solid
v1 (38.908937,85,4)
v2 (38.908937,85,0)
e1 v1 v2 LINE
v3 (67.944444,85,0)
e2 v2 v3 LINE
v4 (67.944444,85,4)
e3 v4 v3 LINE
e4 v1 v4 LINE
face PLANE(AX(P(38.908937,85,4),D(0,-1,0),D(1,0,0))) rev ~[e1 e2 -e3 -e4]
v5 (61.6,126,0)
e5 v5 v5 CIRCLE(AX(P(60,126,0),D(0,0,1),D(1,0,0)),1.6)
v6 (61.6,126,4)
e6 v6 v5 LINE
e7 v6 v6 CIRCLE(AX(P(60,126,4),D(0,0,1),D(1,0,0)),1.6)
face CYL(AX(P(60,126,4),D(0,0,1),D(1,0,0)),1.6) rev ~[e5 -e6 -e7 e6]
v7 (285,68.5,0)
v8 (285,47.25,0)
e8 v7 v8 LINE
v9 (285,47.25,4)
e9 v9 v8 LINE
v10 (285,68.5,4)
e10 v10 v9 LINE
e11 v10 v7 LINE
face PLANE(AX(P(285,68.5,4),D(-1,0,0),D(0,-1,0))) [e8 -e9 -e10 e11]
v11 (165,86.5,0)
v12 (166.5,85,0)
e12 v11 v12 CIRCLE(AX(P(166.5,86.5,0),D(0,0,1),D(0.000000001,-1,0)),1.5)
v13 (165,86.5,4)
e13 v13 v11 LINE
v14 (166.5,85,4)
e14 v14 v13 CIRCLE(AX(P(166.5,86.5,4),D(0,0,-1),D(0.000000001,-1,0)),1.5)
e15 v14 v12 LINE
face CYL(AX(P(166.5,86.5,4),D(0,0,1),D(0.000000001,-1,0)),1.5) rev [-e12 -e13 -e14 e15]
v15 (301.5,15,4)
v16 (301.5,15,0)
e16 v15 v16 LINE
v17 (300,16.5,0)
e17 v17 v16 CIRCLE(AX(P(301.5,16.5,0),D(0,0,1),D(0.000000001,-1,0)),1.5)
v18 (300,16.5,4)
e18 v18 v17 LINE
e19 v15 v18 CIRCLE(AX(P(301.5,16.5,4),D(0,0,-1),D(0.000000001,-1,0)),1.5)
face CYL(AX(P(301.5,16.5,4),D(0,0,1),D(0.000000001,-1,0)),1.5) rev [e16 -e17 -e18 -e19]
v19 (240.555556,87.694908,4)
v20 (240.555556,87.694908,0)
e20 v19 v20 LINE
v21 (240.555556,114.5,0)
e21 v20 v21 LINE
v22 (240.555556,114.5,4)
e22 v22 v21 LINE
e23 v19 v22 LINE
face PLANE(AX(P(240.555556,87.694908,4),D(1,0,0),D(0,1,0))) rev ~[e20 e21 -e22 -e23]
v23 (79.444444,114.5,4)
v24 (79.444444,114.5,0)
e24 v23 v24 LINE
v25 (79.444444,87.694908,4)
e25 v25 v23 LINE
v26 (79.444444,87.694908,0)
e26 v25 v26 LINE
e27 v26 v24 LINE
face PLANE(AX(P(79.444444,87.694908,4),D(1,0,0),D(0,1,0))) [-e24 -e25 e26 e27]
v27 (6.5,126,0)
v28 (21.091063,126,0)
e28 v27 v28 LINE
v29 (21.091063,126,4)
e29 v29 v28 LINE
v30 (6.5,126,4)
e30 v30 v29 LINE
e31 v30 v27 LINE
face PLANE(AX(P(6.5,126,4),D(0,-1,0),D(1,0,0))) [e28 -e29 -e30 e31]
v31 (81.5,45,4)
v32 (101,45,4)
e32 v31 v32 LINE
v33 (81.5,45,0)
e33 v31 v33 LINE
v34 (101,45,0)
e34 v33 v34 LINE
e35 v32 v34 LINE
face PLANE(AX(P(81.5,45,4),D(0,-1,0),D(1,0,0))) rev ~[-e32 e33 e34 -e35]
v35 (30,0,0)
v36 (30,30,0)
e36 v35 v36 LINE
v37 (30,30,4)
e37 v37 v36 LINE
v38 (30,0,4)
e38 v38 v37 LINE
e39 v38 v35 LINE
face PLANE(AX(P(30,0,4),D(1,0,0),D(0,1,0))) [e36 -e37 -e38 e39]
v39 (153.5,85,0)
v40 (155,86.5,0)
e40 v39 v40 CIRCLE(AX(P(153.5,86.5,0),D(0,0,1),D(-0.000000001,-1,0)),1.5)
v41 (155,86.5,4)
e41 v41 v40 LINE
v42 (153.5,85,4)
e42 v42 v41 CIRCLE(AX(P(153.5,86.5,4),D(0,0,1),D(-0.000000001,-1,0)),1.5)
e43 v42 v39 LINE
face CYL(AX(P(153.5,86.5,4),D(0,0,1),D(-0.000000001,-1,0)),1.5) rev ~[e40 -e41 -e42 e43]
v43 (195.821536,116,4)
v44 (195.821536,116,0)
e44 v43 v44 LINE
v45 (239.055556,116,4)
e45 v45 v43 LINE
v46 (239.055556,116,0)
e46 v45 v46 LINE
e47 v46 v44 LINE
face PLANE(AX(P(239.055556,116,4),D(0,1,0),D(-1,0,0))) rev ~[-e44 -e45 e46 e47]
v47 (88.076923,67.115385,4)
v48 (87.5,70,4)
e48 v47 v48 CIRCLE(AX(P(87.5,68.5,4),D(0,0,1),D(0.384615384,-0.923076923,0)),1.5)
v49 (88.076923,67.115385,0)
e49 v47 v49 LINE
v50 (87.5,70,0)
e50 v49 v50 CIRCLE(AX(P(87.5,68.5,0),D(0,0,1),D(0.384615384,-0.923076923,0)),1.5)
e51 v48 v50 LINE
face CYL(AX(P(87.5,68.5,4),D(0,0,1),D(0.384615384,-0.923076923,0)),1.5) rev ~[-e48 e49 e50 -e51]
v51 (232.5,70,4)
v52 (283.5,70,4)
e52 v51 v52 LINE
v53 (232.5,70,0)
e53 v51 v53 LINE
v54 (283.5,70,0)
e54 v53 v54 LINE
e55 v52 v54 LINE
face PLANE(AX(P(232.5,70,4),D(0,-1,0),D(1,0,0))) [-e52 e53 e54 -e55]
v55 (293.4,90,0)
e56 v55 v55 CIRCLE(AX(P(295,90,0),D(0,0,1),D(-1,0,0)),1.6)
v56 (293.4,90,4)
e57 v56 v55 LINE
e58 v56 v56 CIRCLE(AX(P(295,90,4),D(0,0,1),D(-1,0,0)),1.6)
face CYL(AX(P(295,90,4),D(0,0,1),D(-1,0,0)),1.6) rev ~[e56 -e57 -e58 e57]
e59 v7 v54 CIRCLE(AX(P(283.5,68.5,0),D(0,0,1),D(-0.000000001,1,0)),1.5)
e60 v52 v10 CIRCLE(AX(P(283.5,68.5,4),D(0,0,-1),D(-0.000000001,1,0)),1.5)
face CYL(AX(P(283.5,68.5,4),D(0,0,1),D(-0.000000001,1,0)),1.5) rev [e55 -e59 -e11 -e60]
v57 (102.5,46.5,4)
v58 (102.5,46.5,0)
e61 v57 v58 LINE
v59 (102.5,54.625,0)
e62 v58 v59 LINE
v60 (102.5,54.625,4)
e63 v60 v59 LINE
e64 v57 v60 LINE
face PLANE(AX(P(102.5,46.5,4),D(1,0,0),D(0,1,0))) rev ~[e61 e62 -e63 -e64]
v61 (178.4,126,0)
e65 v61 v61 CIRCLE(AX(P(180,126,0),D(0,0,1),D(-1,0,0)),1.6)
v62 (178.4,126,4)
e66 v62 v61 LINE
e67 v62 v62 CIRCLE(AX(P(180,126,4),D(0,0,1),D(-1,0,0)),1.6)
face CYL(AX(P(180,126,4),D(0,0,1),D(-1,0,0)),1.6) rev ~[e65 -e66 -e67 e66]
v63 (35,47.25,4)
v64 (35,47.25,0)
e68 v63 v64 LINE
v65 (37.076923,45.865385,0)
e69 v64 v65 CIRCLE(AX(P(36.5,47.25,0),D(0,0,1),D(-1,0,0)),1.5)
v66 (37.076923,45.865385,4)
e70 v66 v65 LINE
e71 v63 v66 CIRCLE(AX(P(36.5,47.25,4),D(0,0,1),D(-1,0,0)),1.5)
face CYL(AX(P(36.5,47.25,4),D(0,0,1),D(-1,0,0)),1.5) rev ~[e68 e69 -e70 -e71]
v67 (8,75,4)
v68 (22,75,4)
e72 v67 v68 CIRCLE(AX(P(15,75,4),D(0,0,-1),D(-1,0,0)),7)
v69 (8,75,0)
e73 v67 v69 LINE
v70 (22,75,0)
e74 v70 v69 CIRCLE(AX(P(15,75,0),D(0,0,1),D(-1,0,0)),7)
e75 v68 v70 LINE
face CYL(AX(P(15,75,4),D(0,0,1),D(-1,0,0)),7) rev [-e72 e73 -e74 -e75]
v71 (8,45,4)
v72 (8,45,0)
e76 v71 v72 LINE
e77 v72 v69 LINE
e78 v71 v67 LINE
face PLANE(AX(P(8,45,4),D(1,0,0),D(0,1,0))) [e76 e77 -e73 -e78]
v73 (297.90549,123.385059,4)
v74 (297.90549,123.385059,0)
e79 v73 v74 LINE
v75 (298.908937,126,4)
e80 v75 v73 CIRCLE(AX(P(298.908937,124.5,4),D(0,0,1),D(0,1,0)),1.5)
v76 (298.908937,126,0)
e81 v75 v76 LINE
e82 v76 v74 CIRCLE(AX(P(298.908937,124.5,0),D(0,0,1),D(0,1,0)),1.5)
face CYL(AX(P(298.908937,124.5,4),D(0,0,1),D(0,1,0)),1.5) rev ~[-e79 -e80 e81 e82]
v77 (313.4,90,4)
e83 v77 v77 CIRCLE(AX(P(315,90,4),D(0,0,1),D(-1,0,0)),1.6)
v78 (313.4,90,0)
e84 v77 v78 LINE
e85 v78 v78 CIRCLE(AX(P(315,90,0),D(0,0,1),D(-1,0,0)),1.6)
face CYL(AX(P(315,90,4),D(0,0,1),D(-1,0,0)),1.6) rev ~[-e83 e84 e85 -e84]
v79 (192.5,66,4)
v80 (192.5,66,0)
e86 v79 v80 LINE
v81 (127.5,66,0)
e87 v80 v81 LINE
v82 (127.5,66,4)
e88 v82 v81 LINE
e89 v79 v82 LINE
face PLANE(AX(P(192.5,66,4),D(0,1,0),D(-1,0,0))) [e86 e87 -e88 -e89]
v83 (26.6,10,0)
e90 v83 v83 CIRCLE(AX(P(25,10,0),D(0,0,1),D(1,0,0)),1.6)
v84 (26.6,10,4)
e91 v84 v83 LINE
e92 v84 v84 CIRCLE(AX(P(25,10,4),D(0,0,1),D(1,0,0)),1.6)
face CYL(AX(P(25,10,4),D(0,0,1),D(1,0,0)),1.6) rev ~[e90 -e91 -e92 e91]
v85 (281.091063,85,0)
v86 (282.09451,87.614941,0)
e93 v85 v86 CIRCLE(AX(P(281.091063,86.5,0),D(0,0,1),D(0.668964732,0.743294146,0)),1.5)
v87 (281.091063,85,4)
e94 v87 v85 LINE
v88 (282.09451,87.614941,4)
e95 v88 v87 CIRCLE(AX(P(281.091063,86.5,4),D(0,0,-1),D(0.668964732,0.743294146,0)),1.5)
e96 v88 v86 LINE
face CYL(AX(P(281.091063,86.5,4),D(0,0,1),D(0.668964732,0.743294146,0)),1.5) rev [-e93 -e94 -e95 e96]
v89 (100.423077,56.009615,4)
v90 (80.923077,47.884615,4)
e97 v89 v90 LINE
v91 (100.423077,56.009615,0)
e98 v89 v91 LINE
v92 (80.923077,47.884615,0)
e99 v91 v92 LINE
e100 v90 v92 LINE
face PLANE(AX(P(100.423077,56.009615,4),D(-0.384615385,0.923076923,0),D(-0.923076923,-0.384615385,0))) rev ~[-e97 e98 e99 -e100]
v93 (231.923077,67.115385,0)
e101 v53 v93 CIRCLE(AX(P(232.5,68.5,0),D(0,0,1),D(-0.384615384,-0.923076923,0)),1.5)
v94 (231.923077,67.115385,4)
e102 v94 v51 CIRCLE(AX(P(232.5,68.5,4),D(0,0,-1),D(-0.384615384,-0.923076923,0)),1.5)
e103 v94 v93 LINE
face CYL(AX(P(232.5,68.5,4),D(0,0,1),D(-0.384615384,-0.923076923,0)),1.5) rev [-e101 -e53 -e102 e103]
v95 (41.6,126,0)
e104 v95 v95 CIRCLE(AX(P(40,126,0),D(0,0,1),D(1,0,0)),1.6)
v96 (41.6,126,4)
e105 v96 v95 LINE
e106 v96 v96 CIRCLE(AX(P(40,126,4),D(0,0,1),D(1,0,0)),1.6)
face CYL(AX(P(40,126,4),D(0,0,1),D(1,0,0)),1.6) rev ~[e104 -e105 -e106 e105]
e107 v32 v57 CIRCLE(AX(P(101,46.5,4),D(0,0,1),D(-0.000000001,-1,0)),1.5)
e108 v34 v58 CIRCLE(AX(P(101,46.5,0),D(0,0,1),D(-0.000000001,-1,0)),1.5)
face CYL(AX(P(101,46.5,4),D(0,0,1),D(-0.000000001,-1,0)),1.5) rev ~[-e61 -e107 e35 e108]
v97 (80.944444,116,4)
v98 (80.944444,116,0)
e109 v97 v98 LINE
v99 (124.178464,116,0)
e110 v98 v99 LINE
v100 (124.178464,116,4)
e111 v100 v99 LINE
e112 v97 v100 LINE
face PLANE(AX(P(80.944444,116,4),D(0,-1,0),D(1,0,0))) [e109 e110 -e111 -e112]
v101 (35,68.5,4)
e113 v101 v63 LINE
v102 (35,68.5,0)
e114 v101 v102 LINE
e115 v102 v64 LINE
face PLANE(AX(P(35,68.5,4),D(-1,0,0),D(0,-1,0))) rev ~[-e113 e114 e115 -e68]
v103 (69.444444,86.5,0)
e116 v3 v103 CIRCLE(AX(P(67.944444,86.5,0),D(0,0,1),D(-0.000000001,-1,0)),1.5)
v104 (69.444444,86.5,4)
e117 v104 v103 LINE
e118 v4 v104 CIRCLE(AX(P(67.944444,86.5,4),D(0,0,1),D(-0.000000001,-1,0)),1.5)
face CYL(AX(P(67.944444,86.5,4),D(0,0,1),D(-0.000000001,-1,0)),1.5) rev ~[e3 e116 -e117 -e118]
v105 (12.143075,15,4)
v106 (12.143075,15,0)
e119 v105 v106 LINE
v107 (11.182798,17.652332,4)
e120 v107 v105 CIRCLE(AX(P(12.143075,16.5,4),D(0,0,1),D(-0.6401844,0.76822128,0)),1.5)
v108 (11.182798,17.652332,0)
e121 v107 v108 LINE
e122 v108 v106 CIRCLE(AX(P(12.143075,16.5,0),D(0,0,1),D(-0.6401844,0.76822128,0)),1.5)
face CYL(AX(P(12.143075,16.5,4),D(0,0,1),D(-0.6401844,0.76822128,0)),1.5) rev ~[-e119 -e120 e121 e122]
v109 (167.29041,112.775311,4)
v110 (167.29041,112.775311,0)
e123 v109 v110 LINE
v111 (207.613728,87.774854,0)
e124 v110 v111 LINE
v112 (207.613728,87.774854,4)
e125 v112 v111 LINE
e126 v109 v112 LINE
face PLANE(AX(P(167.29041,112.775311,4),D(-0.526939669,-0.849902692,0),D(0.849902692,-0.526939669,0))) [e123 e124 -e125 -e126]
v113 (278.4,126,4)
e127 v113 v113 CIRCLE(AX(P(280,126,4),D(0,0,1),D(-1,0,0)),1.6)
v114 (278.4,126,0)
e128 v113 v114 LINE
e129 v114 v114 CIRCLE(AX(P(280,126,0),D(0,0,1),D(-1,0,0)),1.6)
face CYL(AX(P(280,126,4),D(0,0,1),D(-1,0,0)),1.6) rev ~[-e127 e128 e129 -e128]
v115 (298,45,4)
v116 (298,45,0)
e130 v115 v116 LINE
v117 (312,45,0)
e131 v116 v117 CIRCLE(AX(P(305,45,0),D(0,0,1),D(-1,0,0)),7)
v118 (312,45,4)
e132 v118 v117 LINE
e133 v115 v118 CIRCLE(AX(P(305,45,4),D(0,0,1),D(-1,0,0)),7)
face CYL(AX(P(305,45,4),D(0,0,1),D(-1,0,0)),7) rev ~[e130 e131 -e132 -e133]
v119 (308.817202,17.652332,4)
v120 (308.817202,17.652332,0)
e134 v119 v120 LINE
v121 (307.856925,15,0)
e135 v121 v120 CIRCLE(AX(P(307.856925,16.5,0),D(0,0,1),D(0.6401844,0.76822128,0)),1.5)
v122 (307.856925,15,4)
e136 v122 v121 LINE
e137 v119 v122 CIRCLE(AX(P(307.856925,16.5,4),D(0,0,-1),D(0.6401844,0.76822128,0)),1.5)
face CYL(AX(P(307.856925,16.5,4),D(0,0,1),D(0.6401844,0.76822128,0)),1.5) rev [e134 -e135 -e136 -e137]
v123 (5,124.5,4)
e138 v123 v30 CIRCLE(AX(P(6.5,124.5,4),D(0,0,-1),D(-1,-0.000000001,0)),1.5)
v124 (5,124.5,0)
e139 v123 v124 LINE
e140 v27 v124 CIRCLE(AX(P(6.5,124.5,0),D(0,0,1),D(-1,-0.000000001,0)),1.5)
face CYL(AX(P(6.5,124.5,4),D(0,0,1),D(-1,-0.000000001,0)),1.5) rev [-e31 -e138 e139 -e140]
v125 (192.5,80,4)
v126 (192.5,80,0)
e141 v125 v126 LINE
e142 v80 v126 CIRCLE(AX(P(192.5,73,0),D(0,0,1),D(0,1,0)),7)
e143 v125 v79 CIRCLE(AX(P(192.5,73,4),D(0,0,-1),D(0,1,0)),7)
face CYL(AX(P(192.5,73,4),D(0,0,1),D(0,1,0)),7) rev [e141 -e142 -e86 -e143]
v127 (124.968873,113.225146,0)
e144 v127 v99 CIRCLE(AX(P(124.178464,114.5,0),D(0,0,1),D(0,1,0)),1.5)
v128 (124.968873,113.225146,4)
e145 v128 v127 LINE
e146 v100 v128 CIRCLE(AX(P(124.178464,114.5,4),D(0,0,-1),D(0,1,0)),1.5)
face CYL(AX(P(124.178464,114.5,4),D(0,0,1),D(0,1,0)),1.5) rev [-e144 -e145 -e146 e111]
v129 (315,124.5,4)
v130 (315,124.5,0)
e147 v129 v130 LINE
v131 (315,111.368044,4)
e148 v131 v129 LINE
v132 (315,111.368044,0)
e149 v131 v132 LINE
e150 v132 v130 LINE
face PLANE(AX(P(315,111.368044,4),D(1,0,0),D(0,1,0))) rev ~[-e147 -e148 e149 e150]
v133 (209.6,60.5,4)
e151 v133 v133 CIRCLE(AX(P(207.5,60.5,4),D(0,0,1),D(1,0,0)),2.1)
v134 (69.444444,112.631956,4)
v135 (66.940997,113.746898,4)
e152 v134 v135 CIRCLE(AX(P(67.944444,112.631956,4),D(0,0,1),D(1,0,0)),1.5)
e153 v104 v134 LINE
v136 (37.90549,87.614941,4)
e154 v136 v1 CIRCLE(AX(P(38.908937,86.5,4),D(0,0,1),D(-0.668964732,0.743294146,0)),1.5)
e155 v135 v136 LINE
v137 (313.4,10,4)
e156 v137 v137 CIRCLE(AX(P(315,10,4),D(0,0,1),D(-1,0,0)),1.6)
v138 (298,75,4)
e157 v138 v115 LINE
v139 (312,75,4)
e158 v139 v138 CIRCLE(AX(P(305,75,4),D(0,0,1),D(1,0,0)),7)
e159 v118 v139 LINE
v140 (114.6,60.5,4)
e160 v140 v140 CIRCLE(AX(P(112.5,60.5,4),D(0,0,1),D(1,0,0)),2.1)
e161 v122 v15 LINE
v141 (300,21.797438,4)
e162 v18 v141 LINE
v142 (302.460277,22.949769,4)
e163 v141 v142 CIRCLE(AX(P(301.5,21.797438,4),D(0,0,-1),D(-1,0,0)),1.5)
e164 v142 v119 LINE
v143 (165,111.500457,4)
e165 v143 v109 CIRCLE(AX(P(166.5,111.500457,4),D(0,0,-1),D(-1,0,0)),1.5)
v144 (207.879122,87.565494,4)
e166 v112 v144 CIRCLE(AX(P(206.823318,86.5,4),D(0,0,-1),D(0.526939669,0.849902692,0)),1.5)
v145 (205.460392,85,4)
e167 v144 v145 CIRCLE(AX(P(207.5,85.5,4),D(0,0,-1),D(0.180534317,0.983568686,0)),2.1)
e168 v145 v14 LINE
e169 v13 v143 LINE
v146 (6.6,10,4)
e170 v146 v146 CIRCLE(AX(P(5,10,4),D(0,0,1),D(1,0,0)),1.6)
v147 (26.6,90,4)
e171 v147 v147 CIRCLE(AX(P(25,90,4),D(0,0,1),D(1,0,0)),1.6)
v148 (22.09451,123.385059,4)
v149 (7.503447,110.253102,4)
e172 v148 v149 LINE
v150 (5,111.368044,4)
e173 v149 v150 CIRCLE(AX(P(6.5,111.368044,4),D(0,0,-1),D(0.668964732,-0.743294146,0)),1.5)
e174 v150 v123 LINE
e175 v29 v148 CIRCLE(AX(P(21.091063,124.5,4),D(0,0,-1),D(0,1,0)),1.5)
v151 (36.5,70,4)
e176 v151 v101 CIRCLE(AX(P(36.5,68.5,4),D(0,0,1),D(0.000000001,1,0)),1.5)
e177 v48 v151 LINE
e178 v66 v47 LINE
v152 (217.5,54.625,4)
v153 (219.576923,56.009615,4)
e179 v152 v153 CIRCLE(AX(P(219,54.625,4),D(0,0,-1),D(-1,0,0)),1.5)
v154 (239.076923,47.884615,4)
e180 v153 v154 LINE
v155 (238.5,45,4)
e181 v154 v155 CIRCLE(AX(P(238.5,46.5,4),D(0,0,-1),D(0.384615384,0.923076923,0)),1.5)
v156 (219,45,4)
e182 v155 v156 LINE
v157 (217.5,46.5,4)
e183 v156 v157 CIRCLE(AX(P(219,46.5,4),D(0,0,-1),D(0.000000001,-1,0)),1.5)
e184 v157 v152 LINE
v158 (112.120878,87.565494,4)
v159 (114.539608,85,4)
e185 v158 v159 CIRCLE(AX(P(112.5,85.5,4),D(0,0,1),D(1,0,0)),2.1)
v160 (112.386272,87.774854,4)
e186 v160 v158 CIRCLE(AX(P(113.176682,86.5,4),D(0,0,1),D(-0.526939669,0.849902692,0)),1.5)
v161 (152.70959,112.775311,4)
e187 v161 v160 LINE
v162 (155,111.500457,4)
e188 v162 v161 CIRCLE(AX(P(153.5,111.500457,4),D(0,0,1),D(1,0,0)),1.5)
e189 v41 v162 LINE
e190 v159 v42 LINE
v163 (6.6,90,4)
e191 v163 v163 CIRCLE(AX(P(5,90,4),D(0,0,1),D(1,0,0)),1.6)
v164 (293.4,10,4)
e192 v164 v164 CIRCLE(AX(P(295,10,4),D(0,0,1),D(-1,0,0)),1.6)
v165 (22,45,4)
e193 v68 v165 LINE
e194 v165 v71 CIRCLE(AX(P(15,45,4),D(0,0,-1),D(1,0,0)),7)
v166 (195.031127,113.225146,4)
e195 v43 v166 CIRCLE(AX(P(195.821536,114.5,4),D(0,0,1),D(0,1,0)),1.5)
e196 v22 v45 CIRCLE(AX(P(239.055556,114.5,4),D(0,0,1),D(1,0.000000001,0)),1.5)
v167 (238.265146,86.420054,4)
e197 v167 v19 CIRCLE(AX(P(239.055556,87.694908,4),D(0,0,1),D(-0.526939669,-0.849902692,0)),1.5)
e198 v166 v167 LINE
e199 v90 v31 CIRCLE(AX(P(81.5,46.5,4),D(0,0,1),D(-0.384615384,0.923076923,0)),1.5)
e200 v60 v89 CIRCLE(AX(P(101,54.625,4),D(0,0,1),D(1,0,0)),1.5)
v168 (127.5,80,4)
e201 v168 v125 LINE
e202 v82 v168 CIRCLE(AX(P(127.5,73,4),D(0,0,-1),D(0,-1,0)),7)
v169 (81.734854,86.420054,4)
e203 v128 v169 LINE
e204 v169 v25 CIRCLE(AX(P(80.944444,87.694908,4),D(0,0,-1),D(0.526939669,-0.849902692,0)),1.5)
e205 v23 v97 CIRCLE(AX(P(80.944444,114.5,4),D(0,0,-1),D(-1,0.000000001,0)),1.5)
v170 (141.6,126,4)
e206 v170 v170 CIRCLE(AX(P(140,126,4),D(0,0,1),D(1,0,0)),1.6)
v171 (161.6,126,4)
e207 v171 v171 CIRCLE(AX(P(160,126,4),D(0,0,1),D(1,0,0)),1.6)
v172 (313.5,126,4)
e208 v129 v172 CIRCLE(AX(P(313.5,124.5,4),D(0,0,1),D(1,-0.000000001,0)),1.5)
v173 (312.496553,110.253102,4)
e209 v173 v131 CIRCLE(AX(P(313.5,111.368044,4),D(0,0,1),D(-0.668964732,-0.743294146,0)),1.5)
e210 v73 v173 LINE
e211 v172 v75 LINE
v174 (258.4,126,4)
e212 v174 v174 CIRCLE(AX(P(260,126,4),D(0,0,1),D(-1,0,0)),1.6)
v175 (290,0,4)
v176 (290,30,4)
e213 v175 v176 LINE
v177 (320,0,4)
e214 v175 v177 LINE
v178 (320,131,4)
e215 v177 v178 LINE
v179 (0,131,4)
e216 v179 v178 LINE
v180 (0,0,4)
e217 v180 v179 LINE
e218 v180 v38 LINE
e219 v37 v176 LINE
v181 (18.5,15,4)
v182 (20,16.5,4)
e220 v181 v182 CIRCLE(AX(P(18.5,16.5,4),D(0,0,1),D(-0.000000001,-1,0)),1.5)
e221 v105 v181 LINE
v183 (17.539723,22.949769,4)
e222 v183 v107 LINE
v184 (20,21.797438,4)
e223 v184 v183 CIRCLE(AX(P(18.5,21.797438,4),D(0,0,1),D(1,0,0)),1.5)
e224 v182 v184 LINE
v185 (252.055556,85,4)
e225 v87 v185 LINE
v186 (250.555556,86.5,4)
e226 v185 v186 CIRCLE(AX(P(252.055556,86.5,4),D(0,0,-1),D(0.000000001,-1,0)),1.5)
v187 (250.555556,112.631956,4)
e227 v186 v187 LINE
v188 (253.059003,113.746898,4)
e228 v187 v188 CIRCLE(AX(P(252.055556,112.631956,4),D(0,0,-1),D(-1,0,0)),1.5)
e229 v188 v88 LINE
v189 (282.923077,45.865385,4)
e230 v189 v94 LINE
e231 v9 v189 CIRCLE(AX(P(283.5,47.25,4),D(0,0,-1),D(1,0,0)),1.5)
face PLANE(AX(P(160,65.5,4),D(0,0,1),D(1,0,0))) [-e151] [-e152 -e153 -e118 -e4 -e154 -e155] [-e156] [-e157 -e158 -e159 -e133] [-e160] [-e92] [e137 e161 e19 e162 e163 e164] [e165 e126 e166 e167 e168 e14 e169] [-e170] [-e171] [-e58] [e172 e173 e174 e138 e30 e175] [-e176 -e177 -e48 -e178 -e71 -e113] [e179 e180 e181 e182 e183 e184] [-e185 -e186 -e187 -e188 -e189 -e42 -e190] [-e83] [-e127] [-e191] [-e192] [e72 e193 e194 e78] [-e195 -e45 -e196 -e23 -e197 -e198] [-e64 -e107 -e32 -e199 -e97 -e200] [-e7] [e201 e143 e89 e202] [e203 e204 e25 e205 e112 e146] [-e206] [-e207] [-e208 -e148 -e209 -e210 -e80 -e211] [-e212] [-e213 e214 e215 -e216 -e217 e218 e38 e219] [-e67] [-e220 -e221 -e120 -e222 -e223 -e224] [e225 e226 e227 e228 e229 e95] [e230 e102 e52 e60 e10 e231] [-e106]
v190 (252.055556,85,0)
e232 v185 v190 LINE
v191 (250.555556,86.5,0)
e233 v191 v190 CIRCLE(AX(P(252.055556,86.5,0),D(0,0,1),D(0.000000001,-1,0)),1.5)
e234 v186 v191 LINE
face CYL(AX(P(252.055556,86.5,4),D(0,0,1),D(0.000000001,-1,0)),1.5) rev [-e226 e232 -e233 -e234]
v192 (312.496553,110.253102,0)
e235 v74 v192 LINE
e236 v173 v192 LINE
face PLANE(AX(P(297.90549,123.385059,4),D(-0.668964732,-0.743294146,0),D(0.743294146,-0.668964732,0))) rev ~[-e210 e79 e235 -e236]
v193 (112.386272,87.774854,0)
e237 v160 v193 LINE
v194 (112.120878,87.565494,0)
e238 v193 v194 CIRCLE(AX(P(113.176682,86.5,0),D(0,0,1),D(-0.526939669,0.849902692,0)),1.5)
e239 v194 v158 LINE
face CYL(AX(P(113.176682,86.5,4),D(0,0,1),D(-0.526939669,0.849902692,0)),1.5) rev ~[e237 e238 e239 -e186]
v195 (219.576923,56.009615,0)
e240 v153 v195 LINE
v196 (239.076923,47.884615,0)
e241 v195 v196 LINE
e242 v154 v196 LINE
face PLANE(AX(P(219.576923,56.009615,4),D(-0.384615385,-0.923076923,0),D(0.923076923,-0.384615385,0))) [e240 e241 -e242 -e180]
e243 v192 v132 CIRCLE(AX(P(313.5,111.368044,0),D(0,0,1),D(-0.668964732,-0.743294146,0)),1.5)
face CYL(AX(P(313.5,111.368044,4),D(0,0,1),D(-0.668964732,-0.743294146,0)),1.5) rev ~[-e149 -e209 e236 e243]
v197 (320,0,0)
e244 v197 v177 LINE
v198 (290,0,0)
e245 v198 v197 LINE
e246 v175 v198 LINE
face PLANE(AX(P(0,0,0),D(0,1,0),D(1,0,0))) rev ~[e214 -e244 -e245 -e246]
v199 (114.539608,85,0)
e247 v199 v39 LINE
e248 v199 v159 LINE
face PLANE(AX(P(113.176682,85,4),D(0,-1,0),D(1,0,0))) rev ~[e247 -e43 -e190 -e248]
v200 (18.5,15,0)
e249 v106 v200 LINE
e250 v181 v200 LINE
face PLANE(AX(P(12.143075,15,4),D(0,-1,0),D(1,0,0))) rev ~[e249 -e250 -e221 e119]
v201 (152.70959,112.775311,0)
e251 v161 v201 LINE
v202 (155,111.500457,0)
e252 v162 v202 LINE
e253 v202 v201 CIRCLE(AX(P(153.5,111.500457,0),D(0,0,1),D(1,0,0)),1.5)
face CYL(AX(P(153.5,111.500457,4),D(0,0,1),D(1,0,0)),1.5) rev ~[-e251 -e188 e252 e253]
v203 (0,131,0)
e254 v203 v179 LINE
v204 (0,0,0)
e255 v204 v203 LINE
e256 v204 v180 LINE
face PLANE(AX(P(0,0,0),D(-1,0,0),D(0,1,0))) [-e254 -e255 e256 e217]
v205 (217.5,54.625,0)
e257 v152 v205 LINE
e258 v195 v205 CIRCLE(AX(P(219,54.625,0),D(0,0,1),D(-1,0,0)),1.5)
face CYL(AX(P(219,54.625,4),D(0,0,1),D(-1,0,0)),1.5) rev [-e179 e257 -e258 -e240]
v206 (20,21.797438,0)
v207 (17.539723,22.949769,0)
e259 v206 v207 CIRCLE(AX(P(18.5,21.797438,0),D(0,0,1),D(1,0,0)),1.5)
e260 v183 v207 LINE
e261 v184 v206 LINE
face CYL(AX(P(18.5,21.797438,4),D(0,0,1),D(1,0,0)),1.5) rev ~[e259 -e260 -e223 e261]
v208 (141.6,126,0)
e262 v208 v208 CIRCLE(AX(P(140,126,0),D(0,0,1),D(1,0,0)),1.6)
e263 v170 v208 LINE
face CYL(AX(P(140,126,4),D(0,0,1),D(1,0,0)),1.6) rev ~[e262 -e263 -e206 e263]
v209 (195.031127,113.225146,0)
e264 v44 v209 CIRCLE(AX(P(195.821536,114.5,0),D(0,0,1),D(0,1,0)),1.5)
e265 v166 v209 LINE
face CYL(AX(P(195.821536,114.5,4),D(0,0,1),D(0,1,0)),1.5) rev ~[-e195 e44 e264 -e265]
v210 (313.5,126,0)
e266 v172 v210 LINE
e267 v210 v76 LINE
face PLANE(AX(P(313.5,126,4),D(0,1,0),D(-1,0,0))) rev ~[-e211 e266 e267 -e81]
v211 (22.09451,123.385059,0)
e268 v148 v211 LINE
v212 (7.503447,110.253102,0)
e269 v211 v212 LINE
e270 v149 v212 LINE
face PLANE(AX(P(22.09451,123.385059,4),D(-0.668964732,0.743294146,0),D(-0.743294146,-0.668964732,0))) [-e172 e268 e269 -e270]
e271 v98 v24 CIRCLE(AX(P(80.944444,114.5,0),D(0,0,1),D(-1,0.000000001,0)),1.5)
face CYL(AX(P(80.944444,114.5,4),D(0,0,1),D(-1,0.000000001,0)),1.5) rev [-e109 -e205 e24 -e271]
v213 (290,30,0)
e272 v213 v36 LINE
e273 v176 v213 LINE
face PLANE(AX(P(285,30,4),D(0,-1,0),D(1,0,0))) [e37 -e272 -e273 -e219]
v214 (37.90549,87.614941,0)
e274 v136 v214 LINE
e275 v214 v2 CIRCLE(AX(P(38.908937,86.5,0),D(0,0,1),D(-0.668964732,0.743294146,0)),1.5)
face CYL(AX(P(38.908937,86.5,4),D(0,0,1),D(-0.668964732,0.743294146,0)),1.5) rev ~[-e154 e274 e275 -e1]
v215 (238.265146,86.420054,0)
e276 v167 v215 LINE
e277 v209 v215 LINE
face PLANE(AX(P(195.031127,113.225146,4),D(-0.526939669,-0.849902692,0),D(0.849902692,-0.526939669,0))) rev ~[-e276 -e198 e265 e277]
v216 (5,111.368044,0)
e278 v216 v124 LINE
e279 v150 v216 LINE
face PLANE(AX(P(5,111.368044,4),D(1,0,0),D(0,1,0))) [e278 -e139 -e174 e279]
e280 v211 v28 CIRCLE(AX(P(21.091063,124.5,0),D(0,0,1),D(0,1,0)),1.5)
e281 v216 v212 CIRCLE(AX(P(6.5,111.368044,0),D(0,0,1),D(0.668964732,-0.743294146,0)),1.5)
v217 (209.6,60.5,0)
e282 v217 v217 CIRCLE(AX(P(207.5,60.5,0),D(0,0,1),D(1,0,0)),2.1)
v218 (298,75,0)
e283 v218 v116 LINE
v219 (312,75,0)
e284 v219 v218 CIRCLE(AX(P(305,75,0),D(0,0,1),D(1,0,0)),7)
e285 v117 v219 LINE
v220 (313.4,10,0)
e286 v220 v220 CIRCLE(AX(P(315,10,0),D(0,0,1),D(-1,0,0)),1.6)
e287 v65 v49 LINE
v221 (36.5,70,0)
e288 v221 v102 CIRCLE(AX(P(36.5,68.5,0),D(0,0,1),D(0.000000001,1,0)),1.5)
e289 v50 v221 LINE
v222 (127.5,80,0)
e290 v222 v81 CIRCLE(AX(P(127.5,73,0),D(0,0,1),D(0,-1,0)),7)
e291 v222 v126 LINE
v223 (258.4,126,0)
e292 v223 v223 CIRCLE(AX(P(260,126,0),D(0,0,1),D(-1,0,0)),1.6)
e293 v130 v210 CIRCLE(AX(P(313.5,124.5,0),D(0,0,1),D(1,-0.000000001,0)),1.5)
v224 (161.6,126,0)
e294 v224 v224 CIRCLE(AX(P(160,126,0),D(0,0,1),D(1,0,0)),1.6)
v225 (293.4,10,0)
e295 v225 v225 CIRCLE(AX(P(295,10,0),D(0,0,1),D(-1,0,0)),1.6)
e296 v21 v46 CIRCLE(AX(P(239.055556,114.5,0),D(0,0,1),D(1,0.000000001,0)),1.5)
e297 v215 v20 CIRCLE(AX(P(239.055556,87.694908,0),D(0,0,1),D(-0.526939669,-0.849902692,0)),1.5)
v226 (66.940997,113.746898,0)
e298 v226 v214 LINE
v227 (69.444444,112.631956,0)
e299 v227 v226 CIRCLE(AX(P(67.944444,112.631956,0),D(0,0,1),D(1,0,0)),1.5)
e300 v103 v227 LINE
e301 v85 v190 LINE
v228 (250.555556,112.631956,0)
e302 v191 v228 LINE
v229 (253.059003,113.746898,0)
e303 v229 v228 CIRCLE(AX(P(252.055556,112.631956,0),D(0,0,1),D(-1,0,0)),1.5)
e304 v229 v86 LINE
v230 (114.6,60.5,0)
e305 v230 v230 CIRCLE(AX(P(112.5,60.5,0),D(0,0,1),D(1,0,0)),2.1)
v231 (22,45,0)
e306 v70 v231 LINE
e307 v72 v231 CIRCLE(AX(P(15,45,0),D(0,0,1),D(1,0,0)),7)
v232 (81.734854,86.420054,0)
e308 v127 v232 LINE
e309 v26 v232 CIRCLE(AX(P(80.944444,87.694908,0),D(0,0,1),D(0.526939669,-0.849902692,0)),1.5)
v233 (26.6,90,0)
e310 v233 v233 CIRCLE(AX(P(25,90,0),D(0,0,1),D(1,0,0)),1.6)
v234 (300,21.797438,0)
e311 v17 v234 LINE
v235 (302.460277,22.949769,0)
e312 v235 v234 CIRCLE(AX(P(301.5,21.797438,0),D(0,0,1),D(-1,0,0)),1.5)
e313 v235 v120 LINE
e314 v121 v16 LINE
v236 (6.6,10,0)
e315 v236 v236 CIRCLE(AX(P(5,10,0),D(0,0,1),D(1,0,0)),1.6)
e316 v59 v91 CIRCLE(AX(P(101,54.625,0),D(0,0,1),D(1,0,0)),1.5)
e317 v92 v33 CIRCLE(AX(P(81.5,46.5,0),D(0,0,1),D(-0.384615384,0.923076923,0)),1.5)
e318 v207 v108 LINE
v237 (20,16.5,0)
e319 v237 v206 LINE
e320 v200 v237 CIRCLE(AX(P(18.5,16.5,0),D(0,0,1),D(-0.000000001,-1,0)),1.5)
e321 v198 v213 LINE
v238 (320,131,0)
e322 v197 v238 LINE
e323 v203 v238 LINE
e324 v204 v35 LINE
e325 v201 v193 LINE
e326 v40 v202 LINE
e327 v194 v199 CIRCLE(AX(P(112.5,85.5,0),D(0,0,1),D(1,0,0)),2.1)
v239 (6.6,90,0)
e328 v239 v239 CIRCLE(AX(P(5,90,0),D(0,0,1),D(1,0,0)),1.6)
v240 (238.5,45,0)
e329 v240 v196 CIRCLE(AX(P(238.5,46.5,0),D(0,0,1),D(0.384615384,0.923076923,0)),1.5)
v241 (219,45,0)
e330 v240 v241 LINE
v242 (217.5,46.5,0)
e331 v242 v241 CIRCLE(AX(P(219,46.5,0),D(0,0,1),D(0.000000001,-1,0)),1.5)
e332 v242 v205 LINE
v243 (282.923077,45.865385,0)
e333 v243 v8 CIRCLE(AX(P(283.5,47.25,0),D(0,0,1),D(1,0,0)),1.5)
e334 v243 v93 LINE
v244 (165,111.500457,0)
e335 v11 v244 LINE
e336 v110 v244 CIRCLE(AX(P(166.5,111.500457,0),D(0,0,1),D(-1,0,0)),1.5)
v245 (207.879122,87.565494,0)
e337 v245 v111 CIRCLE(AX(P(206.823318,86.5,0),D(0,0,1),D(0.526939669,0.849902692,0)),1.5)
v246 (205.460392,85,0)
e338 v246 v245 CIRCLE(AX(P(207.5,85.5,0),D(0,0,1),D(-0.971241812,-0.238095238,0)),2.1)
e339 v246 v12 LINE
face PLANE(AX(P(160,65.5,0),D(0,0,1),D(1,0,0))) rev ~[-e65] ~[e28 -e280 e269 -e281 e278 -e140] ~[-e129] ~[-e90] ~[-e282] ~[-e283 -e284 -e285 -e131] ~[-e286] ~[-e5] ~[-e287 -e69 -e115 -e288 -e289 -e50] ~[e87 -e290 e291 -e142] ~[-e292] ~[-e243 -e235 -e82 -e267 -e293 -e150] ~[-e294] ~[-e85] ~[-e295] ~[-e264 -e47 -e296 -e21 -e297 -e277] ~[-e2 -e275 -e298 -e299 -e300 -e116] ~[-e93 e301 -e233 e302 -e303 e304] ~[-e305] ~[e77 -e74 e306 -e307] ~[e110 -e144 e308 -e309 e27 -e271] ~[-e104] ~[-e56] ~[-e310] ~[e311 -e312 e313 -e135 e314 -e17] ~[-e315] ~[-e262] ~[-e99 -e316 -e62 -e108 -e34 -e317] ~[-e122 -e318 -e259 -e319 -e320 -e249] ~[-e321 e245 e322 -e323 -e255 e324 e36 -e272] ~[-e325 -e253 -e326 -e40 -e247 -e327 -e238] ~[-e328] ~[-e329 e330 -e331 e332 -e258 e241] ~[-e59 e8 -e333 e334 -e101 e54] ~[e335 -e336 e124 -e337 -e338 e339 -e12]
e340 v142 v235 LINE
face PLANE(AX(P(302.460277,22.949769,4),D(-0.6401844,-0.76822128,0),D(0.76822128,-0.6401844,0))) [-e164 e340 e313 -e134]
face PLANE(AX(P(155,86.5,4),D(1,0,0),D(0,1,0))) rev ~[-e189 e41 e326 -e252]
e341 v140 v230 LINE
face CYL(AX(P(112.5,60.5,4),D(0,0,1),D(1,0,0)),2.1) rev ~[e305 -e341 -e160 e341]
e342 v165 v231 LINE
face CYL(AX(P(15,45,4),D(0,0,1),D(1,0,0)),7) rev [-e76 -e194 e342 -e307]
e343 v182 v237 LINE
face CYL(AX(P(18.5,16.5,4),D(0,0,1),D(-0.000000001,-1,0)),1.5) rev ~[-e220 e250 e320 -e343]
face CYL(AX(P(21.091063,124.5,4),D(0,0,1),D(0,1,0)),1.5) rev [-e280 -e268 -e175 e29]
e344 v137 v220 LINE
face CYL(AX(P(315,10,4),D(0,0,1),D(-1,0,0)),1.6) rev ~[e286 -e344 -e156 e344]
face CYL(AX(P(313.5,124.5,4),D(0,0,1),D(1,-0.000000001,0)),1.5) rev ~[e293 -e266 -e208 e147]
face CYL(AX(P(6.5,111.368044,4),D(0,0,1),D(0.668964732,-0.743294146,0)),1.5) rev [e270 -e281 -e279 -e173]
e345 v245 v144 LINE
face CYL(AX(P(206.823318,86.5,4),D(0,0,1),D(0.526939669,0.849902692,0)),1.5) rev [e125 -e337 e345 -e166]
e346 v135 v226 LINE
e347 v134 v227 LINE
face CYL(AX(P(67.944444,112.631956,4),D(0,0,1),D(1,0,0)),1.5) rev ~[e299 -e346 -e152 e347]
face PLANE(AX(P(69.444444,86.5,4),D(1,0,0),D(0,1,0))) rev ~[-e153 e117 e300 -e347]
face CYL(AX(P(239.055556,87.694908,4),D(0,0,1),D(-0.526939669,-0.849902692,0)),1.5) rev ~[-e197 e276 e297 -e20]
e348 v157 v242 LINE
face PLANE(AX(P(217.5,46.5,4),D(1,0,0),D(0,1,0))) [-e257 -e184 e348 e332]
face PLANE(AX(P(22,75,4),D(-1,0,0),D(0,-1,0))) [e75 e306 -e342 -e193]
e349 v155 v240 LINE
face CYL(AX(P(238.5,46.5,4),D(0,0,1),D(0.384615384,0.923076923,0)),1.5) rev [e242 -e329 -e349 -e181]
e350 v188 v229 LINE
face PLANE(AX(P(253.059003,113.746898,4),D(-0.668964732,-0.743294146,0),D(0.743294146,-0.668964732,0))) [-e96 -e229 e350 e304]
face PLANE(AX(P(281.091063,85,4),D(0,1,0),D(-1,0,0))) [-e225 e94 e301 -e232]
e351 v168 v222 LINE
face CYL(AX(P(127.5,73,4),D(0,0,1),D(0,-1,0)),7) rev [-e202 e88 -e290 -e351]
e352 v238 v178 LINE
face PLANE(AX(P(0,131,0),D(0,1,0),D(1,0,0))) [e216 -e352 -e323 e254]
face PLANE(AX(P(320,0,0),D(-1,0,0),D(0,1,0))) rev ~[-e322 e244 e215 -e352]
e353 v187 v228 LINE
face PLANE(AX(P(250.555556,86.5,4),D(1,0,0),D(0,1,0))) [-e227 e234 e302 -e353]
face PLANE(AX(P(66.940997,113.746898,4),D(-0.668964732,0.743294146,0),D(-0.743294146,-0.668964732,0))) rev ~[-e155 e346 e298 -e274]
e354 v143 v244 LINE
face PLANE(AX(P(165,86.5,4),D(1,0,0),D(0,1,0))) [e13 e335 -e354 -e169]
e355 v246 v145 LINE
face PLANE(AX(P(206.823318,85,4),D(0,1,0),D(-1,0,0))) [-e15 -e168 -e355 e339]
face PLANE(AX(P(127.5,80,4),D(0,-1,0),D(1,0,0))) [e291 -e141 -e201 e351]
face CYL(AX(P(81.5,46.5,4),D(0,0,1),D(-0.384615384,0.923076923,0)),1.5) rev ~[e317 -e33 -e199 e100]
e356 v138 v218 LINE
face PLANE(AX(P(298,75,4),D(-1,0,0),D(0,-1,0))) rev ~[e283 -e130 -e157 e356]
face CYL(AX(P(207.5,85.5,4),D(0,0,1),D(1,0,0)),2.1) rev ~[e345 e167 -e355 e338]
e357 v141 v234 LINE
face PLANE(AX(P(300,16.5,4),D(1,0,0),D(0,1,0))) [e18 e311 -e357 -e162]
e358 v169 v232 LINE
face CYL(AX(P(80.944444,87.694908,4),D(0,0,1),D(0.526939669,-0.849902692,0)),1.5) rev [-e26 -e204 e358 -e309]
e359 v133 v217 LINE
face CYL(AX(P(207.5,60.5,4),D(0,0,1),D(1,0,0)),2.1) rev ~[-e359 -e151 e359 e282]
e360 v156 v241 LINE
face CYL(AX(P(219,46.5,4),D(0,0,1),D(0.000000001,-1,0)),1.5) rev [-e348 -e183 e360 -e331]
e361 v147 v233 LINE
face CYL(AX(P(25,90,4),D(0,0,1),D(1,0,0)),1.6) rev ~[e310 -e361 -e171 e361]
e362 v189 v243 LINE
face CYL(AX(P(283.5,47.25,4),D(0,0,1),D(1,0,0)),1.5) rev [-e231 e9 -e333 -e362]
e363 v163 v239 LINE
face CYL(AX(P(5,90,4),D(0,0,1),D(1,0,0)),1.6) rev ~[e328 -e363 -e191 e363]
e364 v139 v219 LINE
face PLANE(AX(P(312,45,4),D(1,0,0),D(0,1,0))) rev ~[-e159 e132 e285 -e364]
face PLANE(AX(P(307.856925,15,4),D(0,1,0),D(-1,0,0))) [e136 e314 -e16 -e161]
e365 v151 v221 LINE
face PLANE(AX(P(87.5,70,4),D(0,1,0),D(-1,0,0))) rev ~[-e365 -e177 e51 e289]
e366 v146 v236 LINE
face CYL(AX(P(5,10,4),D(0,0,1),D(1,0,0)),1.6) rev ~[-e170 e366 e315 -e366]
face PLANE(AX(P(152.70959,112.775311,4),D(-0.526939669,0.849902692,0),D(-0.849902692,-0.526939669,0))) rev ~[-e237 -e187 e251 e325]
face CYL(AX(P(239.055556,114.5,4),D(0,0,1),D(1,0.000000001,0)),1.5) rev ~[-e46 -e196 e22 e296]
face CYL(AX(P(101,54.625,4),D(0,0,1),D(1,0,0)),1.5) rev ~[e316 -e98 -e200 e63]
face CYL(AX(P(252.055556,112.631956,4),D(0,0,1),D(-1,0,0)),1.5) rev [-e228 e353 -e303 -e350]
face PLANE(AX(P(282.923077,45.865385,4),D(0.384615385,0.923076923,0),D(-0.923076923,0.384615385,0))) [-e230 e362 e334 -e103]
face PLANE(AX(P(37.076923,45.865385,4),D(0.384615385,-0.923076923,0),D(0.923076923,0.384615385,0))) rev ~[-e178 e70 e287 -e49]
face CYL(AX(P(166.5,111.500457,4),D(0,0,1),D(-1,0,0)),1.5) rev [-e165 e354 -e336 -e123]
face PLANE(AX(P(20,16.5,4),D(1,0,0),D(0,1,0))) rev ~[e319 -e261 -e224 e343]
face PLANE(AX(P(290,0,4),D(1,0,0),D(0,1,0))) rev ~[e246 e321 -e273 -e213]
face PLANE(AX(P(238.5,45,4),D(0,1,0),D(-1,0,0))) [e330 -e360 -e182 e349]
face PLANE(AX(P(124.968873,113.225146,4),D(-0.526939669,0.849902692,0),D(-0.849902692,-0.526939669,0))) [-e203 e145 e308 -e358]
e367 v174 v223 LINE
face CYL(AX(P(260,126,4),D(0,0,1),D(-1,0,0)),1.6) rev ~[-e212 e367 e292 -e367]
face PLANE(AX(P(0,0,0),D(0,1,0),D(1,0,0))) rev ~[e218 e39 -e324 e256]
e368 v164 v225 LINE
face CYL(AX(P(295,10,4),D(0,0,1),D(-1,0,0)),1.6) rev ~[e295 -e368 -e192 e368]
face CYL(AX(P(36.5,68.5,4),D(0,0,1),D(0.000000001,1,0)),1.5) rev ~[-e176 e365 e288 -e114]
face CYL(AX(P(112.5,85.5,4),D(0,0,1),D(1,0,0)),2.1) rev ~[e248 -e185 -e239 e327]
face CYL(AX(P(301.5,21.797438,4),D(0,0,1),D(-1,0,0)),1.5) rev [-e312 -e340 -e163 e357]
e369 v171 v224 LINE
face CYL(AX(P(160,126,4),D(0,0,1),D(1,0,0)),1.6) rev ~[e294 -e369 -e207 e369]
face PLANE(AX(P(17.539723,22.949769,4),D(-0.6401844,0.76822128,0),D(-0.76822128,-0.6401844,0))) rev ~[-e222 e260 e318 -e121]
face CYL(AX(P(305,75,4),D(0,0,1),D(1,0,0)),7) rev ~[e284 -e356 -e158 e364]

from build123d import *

# Parameters (mm, degrees)
SKETCH_1_W          = 320
SKETCH_1_H          = 131
EXTRUDE_1_DEPTH     = 4
SKETCH_2_W          = 5
SKETCH_2_H          = 30
CUT_EXTRUDE_1_DEPTH = 346.799074608
SKETCH_3_R          = 1.6
CUT_EXTRUDE_2_DEPTH = 346.799074608
SKETCH_4_R          = 1.6
CUT_EXTRUDE_3_DEPTH = 346.799074608
SKETCH_6_R          = 2.1
CUT_EXTRUDE_5_DEPTH = 346.799074608
SKETCH_5_W          = 250
SKETCH_5_H          = 30
CUT_EXTRUDE_4_DEPTH = 346.799074608


with BuildPart() as part:
    # 草图1 → 凸台-拉伸1 (new body)
    with BuildSketch(Plane.XY):
        with Locations((160, 65.5)):
            Rectangle(SKETCH_1_W, SKETCH_1_H)
    extrude(amount=EXTRUDE_1_DEPTH)

    # 草图2 → 切除-拉伸1 (cut, through all)
    with BuildSketch(Plane.XY.offset(4)):
        with Locations((32.5, 15)):
            Rectangle(SKETCH_2_W, SKETCH_2_H)
        with Locations((287.5, 15)):
            Rectangle(SKETCH_2_W, SKETCH_2_H)
    extrude(amount=-CUT_EXTRUDE_1_DEPTH, mode=Mode.SUBTRACT)

    # 草图3 → 切除-拉伸2 (cut, through all)
    with BuildSketch(Plane.XY.offset(4)):
        with Locations((40, 126)):
            Circle(SKETCH_3_R)
        with Locations((60, 126)):
            Circle(SKETCH_3_R)
        with Locations((140, 126)):
            Circle(SKETCH_3_R)
        with Locations((160, 126)):
            Circle(SKETCH_3_R)
        with Locations(Location((260, 126, 0), (0, 0, 180))):
            Circle(SKETCH_3_R)
        with Locations(Location((280, 126, 0), (0, 0, 180))):
            Circle(SKETCH_3_R)
        with Locations(Location((180, 126, 0), (0, 0, 180))):
            Circle(SKETCH_3_R)
    extrude(amount=-CUT_EXTRUDE_2_DEPTH, mode=Mode.SUBTRACT)

    # 草图4 → 切除-拉伸3 (cut, through all)
    with BuildSketch(Plane.XY.offset(4)):
        with Locations((5, 90)):
            Circle(SKETCH_4_R)
        with Locations((25, 90)):
            Circle(SKETCH_4_R)
        with Locations((5, 10)):
            Circle(SKETCH_4_R)
        with Locations((25, 10)):
            Circle(SKETCH_4_R)
        with Locations(Location((295, 10, 0), (0, 0, 180))):
            Circle(SKETCH_4_R)
        with Locations(Location((315, 10, 0), (0, 0, 180))):
            Circle(SKETCH_4_R)
        with Locations(Location((295, 90, 0), (0, 0, 180))):
            Circle(SKETCH_4_R)
        with Locations(Location((315, 90, 0), (0, 0, 180))):
            Circle(SKETCH_4_R)
    extrude(amount=-CUT_EXTRUDE_3_DEPTH, mode=Mode.SUBTRACT)

    # 草图6 → 切除-拉伸5 (cut, through all)
    with BuildSketch(Plane.XY.offset(4)):
        with Locations((112.5, 85.5)):
            Circle(SKETCH_6_R)
        with Locations((207.5, 85.5)):
            Circle(SKETCH_6_R)
        with Locations((207.5, 60.5)):
            Circle(SKETCH_6_R)
        with Locations((112.5, 60.5)):
            Circle(SKETCH_6_R)
        with BuildLine():
            Line((127.5, 80), (192.5, 80))
            ThreePointArc((192.5, 80), (199.5, 73), (192.5, 66))
            Line((192.5, 66), (127.5, 66))
            ThreePointArc((127.5, 66), (120.5, 73), (127.5, 80))
        make_face()
    extrude(amount=-CUT_EXTRUDE_5_DEPTH, mode=Mode.SUBTRACT)

    # 草图5 → 切除-拉伸4 (cut, through all)
    with BuildSketch(Plane.XY.offset(4)):
        with BuildLine():
            Line((5, 111.368043607), (5, 124.5))
            ThreePointArc((5, 124.5), (5.439339828, 125.560660172), (6.5, 126))
            Line((6.5, 126), (21.091062659, 126))
            ThreePointArc((21.091062659, 126), (22.491493276, 125.037395651), (22.094509756, 123.385058781))
            Line((22.094509756, 123.385058781), (7.503447097, 110.253102388))
            ThreePointArc((7.503447097, 110.253102388), (5.889742123, 109.997793512), (5, 111.368043607))
        make_face()
        with BuildLine():
            Line((22, 75), (22, 45))
            ThreePointArc((22, 45), (15, 38), (8, 45))
            Line((8, 45), (8, 75))
            ThreePointArc((8, 75), (15, 82), (22, 75))
        make_face()
        with BuildLine():
            Line((38.908937341, 85), (67.944444444, 85))
            ThreePointArc((67.944444444, 85), (69.005104616, 85.439339828), (69.444444444, 86.5))
            Line((69.444444444, 86.5), (69.444444444, 112.631956393))
            ThreePointArc((69.444444444, 112.631956393), (68.554702322, 114.002206488), (66.940997347, 113.746897612))
            Line((66.940997347, 113.746897612), (37.905490244, 87.614941219))
            ThreePointArc((37.905490244, 87.614941219), (37.508506724, 85.962604349), (38.908937341, 85))
        make_face()
        with BuildLine():
            Line((35, 68.5), (35, 47.25))
            ThreePointArc((35, 47.25), (35.667949706, 46.001924558), (37.076923077, 45.865384615))
            Line((37.076923077, 45.865384615), (88.076923077, 67.115384615))
            ThreePointArc((88.076923077, 67.115384615), (88.970871014, 68.794174203), (87.5, 70))
            Line((87.5, 70), (36.5, 70))
            ThreePointArc((36.5, 70), (35.439339828, 69.560660172), (35, 68.5))
        make_face()
        with Locations((160, 15)):
            Rectangle(SKETCH_5_W, SKETCH_5_H)
        with BuildLine():
            Line((81.5, 45), (101, 45))
            ThreePointArc((101, 45), (102.060660172, 45.439339828), (102.5, 46.5))
            Line((102.5, 46.5), (102.5, 54.625))
            ThreePointArc((102.5, 54.625), (101.832050294, 55.873075442), (100.423076923, 56.009615385))
            Line((100.423076923, 56.009615385), (80.923076923, 47.884615385))
            ThreePointArc((80.923076923, 47.884615385), (80.029128986, 46.205825797), (81.5, 45))
        make_face()
        with BuildLine():
            Line((79.444444444, 87.69490793), (79.444444444, 114.5))
            ThreePointArc((79.444444444, 114.5), (79.883784273, 115.560660172), (80.944444444, 116))
            Line((80.944444444, 116), (124.178463913, 116))
            ThreePointArc((124.178463913, 116), (125.621079776, 114.910925141), (124.968873416, 113.225145962))
            Line((124.968873416, 113.225145962), (81.734853948, 86.420053892))
            ThreePointArc((81.734853948, 86.420053892), (80.214928939, 86.384256516), (79.444444444, 87.69490793))
        make_face()
        with BuildLine():
            Line((113.176681905, 85), (153.5, 85))
            ThreePointArc((153.5, 85), (154.560660172, 85.439339828), (155, 86.5))
            Line((155, 86.5), (155, 111.500457219))
            ThreePointArc((155, 111.500457219), (154.229515505, 112.811108632), (152.709590497, 112.775311256))
            Line((152.709590497, 112.775311256), (112.386272402, 87.774854038))
            ThreePointArc((112.386272402, 87.774854038), (111.734066042, 86.089074859), (113.176681905, 85))
        make_face()
        with BuildLine():
            Line((167.290409503, 112.775311256), (207.613727598, 87.774854038))
            ThreePointArc((207.613727598, 87.774854038), (208.265933958, 86.089074859), (206.823318095, 85))
            Line((206.823318095, 85), (166.5, 85))
            ThreePointArc((166.5, 85), (165.439339828, 85.439339828), (165, 86.5))
            Line((165, 86.5), (165, 111.500457219))
            ThreePointArc((165, 111.500457219), (165.770484495, 112.811108632), (167.290409503, 112.775311256))
        make_face()
        with BuildLine():
            Line((195.031126584, 113.225145962), (238.265146052, 86.420053892))
            ThreePointArc((238.265146052, 86.420053892), (239.785071061, 86.384256516), (240.555555556, 87.69490793))
            Line((240.555555556, 87.69490793), (240.555555556, 114.5))
            ThreePointArc((240.555555556, 114.5), (240.116215727, 115.560660172), (239.055555556, 116))
            Line((239.055555556, 116), (195.821536087, 116))
            ThreePointArc((195.821536087, 116), (194.378920224, 114.910925141), (195.031126584, 113.225145962))
        make_face()
        with BuildLine():
            Line((219.576923077, 56.009615385), (239.076923077, 47.884615385))
            ThreePointArc((239.076923077, 47.884615385), (239.970871014, 46.205825797), (238.5, 45))
            Line((238.5, 45), (219, 45))
            ThreePointArc((219, 45), (217.939339828, 45.439339828), (217.5, 46.5))
            Line((217.5, 46.5), (217.5, 54.625))
            ThreePointArc((217.5, 54.625), (218.167949706, 55.873075442), (219.576923077, 56.009615385))
        make_face()
        with BuildLine():
            Line((232.5, 70), (283.5, 70))
            ThreePointArc((283.5, 70), (284.560660172, 69.560660172), (285, 68.5))
            Line((285, 68.5), (285, 47.25))
            ThreePointArc((285, 47.25), (284.332050294, 46.001924558), (282.923076923, 45.865384615))
            Line((282.923076923, 45.865384615), (231.923076923, 67.115384615))
            ThreePointArc((231.923076923, 67.115384615), (231.029128986, 68.794174203), (232.5, 70))
        make_face()
        with BuildLine():
            Line((253.059002653, 113.746897612), (282.094509756, 87.614941219))
            ThreePointArc((282.094509756, 87.614941219), (282.491493276, 85.962604349), (281.091062659, 85))
            Line((281.091062659, 85), (252.055555556, 85))
            ThreePointArc((252.055555556, 85), (250.994895384, 85.439339828), (250.555555556, 86.5))
            Line((250.555555556, 86.5), (250.555555556, 112.631956393))
            ThreePointArc((250.555555556, 112.631956393), (251.445297678, 114.002206488), (253.059002653, 113.746897612))
        make_face()
        with BuildLine():
            Line((297.905490244, 123.385058781), (312.496552903, 110.253102388))
            ThreePointArc((312.496552903, 110.253102388), (314.110257877, 109.997793512), (315, 111.368043607))
            Line((315, 111.368043607), (315, 124.5))
            ThreePointArc((315, 124.5), (314.560660172, 125.560660172), (313.5, 126))
            Line((313.5, 126), (298.908937341, 126))
            ThreePointArc((298.908937341, 126), (297.508506724, 125.037395651), (297.905490244, 123.385058781))
        make_face()
        with BuildLine():
            Line((298, 75), (298, 45))
            ThreePointArc((298, 45), (305, 38), (312, 45))
            Line((312, 45), (312, 75))
            ThreePointArc((312, 75), (305, 82), (298, 75))
        make_face()
        with BuildLine():
            Line((12.143074903, 15), (18.5, 15))
            ThreePointArc((18.5, 15), (19.560660172, 15.439339828), (20, 16.5))
            Line((20, 16.5), (20, 21.797437581))
            ThreePointArc((20, 21.797437581), (19.136233094, 23.155821713), (17.539723401, 22.9497695))
            Line((17.539723401, 22.9497695), (11.182798303, 17.652331919))
            ThreePointArc((11.182798303, 17.652331919), (10.732667536, 15.989362104), (12.143074903, 15))
        make_face()
        with BuildLine():
            Line((302.460276599, 22.9497695), (308.817201697, 17.652331919))
            ThreePointArc((308.817201697, 17.652331919), (309.267332464, 15.989362104), (307.856925097, 15))
            Line((307.856925097, 15), (301.5, 15))
            ThreePointArc((301.5, 15), (300.439339828, 15.439339828), (300, 16.5))
            Line((300, 16.5), (300, 21.797437581))
            ThreePointArc((300, 21.797437581), (300.863766906, 23.155821713), (302.460276599, 22.9497695))
        make_face()
    extrude(amount=-CUT_EXTRUDE_4_DEPTH, mode=Mode.SUBTRACT)


solid = part.part
